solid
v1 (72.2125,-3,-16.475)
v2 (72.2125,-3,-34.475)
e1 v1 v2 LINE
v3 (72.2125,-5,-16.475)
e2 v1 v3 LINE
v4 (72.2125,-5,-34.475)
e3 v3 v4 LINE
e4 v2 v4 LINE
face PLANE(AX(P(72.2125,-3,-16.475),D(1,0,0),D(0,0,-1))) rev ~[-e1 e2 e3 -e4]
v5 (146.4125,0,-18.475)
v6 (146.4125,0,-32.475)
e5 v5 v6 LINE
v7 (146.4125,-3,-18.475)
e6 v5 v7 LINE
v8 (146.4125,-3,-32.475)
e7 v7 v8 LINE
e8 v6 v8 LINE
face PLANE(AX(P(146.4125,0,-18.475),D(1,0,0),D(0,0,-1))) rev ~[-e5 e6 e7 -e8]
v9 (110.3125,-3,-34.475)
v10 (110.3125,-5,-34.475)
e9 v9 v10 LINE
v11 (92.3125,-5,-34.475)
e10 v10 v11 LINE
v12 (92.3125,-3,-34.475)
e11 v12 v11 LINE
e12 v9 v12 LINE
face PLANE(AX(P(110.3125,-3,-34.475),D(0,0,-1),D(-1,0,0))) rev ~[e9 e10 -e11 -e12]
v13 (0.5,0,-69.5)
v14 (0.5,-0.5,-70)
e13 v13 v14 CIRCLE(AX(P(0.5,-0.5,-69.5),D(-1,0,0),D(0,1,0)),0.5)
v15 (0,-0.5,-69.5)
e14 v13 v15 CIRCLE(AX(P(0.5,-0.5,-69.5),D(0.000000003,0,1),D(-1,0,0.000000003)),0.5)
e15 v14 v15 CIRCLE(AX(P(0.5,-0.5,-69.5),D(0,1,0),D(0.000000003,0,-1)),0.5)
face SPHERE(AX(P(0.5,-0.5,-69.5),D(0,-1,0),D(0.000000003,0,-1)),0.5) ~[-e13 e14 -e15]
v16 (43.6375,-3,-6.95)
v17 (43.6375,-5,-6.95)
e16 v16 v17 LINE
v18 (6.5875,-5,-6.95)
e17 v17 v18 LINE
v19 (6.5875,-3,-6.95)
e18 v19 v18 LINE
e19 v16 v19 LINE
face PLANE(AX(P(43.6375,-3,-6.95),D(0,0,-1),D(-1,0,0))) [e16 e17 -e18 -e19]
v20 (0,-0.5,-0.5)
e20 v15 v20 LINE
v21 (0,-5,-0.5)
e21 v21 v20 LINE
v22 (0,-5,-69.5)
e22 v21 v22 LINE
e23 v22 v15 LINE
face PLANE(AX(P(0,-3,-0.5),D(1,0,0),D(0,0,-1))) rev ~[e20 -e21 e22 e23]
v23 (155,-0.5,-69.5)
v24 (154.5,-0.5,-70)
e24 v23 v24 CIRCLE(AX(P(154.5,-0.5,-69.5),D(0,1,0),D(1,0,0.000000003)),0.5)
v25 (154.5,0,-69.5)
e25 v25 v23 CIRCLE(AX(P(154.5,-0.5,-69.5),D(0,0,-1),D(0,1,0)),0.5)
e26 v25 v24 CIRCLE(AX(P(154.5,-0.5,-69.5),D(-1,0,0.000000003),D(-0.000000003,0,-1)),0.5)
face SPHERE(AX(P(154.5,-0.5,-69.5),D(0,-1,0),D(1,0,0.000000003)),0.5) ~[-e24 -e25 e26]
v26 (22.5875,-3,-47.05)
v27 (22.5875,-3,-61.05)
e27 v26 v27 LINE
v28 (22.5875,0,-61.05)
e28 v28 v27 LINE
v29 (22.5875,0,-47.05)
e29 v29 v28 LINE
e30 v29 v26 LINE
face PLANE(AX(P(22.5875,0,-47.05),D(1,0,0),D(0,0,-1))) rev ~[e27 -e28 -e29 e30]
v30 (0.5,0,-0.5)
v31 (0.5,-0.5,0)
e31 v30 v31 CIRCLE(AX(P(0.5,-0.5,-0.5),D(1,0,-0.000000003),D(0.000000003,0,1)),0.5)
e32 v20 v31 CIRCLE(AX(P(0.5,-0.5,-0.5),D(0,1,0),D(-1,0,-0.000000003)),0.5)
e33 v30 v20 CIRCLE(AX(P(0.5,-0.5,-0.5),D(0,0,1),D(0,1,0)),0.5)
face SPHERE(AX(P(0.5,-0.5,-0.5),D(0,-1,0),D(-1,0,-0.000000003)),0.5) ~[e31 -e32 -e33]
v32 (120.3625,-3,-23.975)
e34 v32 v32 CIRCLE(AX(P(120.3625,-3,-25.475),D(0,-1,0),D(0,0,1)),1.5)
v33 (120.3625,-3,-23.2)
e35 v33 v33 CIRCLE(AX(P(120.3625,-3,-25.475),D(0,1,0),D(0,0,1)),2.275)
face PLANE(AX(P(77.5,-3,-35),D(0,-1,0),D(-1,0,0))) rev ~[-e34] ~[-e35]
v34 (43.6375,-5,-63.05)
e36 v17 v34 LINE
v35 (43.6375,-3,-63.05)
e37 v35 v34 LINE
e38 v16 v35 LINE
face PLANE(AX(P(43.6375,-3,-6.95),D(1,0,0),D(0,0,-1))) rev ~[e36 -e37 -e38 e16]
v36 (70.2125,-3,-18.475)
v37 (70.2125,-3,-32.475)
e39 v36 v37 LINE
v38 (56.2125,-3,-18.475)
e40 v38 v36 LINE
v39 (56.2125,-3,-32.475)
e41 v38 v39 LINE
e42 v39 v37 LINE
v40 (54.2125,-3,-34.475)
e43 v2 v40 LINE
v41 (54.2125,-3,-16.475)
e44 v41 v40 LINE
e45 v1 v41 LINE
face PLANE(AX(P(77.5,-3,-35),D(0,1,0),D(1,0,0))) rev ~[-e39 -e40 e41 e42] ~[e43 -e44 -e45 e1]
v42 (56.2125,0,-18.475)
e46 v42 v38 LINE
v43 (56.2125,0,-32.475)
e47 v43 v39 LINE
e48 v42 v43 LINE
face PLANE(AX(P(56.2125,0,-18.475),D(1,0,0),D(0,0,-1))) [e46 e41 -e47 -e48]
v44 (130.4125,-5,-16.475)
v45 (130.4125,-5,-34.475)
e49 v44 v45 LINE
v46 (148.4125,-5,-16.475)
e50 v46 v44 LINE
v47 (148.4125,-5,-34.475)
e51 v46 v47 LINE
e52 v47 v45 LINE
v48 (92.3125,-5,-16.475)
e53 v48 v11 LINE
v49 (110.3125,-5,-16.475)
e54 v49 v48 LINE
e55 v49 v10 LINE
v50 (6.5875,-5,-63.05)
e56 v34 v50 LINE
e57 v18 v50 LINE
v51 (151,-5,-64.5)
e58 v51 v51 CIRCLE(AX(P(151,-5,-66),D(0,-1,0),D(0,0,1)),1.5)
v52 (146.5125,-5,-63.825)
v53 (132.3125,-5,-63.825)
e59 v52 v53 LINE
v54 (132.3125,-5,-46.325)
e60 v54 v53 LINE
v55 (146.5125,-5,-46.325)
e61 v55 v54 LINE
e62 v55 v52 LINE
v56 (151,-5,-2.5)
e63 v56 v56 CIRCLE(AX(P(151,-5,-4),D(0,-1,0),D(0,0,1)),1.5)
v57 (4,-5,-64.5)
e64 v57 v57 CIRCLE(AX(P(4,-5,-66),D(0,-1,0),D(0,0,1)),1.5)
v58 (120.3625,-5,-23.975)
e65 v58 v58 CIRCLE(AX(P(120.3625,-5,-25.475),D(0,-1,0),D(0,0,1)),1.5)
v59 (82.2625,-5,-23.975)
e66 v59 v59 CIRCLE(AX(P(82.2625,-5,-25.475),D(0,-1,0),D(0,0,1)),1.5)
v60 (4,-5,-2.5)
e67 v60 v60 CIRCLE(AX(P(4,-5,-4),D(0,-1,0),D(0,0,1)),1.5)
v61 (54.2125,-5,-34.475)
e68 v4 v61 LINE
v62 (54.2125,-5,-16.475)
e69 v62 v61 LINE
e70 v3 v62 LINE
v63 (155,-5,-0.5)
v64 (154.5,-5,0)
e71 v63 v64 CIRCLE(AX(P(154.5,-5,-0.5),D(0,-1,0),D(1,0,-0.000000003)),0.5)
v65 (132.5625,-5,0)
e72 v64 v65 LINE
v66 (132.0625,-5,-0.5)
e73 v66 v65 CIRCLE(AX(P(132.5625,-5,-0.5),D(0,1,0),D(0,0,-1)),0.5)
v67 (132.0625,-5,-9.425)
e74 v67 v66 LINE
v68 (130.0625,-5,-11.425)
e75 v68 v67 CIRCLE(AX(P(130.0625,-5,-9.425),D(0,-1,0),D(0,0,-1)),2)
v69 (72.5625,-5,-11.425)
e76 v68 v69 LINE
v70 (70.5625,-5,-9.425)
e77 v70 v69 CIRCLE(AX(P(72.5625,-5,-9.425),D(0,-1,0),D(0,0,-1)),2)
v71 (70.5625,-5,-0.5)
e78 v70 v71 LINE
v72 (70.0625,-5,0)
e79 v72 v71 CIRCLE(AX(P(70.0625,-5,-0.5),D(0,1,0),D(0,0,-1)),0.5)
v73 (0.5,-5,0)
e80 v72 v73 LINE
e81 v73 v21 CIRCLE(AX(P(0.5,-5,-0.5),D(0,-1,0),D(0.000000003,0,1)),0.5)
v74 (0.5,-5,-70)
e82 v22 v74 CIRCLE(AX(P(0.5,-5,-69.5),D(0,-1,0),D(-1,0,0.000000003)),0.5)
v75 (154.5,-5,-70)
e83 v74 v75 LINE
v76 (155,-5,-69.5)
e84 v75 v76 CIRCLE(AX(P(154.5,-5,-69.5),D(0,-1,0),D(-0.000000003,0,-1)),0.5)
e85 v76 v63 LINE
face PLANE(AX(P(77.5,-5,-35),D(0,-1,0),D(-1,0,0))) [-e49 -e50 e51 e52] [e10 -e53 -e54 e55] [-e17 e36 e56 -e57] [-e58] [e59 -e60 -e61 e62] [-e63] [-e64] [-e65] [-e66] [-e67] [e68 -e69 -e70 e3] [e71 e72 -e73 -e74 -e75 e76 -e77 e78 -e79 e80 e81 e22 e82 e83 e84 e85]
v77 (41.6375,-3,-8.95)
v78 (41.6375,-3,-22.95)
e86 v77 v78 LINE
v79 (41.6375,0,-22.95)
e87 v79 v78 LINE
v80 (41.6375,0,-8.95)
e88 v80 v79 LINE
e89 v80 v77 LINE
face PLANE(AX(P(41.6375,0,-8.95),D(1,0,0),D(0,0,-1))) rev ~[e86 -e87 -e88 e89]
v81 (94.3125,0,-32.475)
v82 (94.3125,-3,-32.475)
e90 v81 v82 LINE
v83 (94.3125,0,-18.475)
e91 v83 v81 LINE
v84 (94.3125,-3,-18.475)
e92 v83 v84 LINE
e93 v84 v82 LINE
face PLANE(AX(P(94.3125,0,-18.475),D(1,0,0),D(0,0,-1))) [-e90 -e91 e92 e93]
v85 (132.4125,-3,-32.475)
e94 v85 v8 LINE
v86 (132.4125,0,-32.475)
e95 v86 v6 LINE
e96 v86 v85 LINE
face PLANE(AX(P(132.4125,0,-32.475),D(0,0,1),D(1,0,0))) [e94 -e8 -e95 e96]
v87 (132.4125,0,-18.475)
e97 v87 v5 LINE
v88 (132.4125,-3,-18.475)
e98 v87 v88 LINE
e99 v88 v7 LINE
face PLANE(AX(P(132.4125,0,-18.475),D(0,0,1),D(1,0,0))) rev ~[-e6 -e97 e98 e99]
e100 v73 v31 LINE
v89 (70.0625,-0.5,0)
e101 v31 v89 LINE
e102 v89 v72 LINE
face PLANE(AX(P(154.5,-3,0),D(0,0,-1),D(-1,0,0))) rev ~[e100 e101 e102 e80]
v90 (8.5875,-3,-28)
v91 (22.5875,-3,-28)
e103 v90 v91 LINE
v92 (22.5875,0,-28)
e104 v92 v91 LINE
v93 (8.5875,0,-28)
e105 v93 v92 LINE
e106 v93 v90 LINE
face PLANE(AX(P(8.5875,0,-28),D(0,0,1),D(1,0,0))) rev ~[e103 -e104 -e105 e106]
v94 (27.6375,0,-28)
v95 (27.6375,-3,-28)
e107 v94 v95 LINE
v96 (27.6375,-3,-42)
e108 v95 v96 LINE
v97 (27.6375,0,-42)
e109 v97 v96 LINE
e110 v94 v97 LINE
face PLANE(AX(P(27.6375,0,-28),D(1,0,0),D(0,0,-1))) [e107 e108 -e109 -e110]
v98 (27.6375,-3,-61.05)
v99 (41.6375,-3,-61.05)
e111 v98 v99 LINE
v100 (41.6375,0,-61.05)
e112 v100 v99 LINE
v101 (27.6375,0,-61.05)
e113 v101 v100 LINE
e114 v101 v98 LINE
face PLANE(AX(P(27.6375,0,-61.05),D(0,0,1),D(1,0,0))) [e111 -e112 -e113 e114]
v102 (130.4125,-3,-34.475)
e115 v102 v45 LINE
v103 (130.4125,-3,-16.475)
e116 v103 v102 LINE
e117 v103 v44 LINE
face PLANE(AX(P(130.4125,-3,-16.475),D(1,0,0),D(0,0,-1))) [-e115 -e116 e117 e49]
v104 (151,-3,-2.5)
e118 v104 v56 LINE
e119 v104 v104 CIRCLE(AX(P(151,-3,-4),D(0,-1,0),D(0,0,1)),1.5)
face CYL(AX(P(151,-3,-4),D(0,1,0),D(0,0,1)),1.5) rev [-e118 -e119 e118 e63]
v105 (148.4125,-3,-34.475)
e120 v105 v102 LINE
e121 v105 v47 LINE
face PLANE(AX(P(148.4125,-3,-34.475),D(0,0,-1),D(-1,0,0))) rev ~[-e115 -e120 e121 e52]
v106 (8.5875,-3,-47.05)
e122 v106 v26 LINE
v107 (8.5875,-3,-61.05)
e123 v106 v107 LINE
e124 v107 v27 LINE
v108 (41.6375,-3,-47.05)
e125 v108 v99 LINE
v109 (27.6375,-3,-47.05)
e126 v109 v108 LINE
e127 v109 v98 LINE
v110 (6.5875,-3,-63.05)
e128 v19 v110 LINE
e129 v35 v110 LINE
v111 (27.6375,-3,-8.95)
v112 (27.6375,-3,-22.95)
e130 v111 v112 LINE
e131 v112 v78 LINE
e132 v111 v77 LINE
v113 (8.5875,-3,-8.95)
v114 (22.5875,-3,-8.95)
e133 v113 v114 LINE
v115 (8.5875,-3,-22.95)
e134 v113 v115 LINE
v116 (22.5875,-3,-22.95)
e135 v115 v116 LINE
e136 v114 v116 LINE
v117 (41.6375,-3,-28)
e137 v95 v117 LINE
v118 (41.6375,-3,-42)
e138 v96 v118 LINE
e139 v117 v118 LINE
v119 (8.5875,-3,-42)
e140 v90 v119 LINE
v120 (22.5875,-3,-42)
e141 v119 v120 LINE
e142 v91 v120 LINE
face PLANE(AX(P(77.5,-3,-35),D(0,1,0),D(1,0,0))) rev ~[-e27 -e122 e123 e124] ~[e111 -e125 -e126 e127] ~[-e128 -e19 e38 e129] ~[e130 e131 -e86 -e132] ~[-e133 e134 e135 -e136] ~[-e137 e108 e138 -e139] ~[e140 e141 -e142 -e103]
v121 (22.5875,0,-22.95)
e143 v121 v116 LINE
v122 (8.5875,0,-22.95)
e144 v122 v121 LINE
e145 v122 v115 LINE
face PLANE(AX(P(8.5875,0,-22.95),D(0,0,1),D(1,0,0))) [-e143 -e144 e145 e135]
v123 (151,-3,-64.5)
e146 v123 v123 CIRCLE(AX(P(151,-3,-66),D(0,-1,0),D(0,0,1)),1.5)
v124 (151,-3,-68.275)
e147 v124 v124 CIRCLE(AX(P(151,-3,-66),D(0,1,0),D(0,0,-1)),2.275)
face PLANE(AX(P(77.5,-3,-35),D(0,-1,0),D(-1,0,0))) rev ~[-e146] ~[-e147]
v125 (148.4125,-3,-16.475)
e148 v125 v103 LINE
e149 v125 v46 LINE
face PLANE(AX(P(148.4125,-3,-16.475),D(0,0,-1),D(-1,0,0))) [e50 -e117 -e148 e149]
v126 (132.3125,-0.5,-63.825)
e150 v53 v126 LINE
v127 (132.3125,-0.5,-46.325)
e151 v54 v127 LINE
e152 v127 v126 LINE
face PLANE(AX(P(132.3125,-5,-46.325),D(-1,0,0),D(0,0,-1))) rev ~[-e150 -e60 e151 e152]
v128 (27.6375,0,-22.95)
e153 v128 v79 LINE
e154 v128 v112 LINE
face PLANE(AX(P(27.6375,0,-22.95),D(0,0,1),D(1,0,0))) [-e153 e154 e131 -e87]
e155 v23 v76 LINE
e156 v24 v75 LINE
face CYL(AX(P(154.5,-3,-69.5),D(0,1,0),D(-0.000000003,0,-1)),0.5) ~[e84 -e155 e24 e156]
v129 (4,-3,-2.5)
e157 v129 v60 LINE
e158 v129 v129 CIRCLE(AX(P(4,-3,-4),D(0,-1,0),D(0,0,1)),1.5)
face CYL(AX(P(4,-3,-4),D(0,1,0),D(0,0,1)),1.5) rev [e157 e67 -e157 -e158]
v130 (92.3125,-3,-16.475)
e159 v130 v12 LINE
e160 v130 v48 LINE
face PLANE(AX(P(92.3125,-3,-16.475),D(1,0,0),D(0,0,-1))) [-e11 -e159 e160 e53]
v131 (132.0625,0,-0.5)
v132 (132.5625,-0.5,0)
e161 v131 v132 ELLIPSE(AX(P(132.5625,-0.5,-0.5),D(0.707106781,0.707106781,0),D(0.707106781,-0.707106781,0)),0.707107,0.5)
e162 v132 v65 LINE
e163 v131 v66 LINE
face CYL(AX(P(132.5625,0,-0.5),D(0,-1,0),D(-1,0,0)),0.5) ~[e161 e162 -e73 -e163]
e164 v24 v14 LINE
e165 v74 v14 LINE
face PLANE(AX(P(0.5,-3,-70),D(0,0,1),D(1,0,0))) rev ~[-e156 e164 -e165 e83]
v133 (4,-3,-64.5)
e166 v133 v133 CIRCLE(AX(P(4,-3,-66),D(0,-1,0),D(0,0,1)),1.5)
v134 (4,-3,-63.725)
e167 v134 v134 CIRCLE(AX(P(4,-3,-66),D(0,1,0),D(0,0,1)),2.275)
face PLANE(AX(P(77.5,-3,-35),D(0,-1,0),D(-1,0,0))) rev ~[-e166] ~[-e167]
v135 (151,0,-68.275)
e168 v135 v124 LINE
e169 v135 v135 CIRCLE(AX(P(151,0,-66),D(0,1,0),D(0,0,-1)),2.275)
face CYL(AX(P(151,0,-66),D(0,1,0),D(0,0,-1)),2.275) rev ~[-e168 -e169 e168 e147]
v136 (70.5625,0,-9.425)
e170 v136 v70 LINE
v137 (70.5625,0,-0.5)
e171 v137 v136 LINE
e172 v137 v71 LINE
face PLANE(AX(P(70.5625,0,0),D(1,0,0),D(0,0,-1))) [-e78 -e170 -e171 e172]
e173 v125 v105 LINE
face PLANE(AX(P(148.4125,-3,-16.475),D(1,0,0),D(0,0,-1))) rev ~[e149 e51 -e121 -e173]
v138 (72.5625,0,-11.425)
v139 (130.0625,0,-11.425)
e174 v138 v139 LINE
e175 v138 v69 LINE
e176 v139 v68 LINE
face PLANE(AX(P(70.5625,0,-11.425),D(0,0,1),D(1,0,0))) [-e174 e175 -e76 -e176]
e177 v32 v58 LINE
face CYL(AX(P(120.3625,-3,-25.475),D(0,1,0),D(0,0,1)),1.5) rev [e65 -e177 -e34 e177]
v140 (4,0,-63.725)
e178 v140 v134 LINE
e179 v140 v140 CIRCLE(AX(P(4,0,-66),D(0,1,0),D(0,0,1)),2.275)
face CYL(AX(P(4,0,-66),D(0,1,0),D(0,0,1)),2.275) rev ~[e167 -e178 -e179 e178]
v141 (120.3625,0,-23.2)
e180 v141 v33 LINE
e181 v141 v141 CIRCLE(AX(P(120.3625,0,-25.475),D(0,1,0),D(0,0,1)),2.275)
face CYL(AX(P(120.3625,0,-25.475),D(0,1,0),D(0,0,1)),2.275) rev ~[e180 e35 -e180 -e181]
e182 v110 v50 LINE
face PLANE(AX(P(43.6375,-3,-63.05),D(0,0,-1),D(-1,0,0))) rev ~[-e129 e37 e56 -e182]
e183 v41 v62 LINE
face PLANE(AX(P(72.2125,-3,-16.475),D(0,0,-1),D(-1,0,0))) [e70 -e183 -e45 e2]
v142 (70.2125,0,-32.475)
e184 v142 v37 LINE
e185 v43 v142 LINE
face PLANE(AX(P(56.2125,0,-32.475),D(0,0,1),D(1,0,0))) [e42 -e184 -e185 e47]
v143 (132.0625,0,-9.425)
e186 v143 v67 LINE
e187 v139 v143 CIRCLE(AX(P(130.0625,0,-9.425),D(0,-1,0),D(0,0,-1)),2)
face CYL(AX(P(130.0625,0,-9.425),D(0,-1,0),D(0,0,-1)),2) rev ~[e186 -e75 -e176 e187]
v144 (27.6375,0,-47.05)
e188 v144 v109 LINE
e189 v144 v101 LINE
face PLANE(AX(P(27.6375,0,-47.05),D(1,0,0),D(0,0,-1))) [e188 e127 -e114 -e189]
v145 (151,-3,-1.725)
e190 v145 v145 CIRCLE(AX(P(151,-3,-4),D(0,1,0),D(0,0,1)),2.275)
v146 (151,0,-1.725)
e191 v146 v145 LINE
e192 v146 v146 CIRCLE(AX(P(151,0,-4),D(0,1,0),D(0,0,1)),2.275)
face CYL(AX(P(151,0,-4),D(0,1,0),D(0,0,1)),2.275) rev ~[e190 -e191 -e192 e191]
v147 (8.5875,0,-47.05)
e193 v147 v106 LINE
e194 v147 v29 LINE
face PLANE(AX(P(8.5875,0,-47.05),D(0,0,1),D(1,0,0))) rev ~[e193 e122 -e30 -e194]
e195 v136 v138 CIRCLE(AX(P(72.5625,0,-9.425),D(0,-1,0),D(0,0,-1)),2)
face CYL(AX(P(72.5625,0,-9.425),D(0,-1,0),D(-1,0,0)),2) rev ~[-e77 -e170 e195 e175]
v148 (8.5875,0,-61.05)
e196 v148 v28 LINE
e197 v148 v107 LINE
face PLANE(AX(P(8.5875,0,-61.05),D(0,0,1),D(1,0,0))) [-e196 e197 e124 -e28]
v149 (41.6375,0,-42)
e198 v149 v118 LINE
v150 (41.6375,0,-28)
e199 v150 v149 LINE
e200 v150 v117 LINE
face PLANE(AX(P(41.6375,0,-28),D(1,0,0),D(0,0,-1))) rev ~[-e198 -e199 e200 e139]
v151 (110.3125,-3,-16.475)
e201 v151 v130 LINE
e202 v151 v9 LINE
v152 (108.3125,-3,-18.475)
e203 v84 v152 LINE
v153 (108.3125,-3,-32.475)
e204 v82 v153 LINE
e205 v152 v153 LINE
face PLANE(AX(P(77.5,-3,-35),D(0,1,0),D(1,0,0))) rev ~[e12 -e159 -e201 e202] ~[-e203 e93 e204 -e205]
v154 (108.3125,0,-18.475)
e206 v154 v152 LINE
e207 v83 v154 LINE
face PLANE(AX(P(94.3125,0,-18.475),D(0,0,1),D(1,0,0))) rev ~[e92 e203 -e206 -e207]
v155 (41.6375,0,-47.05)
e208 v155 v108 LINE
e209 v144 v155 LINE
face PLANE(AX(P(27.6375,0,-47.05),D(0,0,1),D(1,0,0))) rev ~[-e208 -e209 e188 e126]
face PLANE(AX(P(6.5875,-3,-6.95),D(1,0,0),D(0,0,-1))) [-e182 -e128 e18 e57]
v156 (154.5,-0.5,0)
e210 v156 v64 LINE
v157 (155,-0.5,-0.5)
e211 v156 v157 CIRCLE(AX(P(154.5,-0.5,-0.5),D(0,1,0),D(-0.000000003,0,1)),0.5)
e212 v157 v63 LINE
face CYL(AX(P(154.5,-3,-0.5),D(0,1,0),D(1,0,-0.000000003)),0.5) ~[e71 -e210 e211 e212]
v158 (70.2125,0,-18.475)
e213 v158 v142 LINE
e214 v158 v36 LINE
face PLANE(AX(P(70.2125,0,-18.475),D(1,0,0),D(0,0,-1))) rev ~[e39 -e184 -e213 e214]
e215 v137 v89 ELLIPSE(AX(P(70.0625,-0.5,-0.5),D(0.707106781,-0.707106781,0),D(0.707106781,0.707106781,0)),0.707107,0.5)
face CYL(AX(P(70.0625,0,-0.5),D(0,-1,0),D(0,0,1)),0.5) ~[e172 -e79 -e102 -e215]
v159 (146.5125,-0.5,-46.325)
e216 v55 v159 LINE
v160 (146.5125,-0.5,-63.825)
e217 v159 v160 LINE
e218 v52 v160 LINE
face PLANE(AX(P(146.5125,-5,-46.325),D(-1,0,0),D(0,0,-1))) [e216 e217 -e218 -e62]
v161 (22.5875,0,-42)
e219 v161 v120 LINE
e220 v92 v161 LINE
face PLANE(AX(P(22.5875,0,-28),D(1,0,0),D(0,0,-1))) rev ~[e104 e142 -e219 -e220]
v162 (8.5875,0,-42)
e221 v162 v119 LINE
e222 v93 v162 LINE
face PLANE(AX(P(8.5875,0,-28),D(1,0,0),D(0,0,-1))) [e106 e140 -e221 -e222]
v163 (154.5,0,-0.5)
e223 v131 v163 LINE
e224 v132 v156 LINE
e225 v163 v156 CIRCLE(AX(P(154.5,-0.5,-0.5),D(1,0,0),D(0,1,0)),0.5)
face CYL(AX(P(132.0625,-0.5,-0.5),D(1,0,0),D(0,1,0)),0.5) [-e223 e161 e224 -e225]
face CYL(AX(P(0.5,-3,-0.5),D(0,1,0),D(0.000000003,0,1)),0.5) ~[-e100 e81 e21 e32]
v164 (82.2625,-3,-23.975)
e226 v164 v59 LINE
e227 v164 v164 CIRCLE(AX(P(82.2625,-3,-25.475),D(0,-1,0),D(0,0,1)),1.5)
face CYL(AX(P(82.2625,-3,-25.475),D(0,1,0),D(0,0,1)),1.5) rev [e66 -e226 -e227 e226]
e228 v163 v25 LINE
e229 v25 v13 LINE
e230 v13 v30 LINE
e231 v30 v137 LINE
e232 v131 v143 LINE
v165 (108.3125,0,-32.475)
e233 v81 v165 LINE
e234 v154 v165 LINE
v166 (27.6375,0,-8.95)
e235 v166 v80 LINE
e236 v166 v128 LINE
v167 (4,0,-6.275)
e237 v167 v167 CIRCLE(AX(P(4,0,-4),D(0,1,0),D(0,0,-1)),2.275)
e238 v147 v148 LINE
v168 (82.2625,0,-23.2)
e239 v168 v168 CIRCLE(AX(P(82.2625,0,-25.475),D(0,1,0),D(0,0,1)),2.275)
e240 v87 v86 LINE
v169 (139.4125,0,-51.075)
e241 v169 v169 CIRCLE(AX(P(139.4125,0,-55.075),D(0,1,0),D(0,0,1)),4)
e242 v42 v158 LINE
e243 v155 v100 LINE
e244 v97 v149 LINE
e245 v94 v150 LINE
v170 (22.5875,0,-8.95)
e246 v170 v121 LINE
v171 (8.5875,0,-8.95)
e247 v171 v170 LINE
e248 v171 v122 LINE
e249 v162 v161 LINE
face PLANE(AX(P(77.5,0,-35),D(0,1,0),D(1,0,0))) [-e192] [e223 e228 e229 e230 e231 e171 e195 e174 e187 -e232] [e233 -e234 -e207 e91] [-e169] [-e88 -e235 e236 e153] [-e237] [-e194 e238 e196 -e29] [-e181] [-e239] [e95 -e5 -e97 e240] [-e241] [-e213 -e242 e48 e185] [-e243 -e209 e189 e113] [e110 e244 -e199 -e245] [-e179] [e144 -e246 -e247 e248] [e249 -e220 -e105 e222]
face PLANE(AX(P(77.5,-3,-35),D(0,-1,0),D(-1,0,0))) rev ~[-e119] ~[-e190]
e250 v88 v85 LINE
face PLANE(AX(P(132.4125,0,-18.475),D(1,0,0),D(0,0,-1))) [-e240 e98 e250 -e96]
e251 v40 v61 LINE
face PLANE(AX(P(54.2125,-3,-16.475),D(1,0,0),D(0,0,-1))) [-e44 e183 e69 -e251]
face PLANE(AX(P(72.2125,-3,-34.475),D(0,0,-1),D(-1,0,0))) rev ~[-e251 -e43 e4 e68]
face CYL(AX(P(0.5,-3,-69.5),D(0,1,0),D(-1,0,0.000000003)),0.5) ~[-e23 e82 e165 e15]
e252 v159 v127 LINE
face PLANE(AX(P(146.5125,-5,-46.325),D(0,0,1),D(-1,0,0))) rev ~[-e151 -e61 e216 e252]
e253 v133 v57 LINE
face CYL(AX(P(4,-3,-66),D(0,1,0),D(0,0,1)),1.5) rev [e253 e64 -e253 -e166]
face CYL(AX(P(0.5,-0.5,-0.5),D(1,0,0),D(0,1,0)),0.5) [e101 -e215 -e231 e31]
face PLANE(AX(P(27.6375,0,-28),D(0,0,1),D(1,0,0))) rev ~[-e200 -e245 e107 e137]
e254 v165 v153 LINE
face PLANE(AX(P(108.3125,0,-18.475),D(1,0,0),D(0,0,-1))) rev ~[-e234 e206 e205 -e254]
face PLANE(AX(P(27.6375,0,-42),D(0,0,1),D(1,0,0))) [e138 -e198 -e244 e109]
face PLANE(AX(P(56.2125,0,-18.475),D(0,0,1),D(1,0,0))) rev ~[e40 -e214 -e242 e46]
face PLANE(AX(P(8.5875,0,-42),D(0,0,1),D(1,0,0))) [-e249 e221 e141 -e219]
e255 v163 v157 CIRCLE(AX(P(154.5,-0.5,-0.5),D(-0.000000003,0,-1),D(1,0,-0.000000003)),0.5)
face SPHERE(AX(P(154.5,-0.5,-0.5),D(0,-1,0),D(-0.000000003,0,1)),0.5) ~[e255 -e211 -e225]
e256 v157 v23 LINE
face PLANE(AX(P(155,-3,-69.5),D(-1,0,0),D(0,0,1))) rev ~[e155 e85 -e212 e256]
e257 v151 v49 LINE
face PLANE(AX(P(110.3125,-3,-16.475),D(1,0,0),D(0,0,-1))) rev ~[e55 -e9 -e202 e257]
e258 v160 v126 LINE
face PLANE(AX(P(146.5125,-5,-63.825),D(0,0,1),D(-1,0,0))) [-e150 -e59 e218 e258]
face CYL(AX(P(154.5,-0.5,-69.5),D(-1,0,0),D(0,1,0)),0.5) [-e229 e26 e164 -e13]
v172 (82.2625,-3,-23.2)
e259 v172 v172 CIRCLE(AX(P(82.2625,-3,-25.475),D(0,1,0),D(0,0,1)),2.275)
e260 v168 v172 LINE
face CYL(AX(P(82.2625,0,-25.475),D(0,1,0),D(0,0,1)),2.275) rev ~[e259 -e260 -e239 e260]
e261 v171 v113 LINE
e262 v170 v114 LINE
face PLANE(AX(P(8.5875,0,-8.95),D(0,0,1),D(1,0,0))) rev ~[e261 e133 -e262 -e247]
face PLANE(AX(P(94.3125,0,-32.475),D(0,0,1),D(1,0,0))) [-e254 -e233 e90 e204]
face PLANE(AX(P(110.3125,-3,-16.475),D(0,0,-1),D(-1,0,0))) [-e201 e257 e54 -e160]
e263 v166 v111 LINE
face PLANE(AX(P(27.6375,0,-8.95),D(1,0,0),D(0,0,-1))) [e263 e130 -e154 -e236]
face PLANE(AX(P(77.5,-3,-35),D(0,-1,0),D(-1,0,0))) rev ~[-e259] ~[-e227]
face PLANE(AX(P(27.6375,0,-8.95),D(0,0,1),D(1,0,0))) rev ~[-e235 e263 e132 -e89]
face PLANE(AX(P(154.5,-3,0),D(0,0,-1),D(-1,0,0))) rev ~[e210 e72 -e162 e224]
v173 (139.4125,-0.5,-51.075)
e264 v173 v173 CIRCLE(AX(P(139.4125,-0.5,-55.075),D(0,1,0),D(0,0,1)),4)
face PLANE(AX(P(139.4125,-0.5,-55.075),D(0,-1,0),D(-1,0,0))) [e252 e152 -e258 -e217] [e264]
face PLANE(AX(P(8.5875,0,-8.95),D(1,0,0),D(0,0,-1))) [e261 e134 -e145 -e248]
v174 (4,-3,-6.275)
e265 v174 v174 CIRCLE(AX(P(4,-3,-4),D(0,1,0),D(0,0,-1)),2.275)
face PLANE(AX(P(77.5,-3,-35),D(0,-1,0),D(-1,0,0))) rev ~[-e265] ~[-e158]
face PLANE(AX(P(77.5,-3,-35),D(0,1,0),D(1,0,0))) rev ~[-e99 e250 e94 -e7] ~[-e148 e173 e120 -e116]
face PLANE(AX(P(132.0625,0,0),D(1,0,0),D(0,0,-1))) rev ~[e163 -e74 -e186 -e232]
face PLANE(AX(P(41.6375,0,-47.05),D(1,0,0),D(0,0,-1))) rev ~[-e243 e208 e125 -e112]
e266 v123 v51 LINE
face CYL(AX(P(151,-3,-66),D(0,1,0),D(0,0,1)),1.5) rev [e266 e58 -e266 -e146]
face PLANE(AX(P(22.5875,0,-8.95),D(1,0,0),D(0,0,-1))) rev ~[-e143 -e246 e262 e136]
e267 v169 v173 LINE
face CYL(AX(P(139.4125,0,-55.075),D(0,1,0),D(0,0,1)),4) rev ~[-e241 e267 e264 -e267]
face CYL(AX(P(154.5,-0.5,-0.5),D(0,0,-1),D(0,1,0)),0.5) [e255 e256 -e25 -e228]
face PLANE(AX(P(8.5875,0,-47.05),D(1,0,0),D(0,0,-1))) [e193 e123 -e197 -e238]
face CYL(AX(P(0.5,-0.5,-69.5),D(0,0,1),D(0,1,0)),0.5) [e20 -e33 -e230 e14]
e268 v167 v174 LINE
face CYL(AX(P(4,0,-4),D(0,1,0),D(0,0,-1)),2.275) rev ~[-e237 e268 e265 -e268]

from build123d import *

# Parameters (mm, degrees)
SKETCH1_R           = 2.275
SKETCH1_R_2         = 4
SKETCH1_W           = 14
SKETCH1_H           = 14
BOSS_EXTRUDE1_DEPTH = 3
SKETCH2_R           = 1.5
SKETCH2_R_2         = 4
SKETCH2_W           = 37.05
SKETCH2_H           = 56.1
SKETCH2_W_2         = 18
SKETCH2_H_2         = 18
BOSS_EXTRUDE2_DEPTH = 2
SKETCH3_W           = 14.2
SKETCH3_H           = 17.5
CUT_EXTRUDE1_DEPTH  = 4.5
SKETCH4_W           = 61.5
SKETCH4_H           = 11.425
CUT_EXTRUDE2_DEPTH  = 171.146995272
FILLET1_R           = 0.5
FILLET2_R           = 2


with BuildPart() as part:
    # Sketch1 → Boss-Extrude1 (new body)
    with BuildSketch(Plane(origin=(0, 0, 0), x_dir=(1, 0, 0), z_dir=(0, 1, 0))):
        with BuildLine():
            Line((0.5, 0), (154.5, 0))
            ThreePointArc((154.5, 0), (154.853553391, 0.146446609), (155, 0.5))
            Line((155, 0.5), (155, 69.5))
            ThreePointArc((155, 69.5), (154.853553391, 69.853553391), (154.5, 70))
            Line((154.5, 70), (0.5, 70))
            ThreePointArc((0.5, 70), (0.146446609, 69.853553391), (0, 69.5))
            Line((0, 69.5), (0, 0.5))
            ThreePointArc((0, 0.5), (0.146446609, 0.146446609), (0.5, 0))
        make_face()
        with Locations(Location((4, 66, 0), (0, 0, 270))):
            Circle(SKETCH1_R, mode=Mode.SUBTRACT)
        with Locations(Location((4, 4, 0), (0, 0, 90))):
            Circle(SKETCH1_R, mode=Mode.SUBTRACT)
        with Locations(Location((151, 4, 0), (0, 0, 270))):
            Circle(SKETCH1_R, mode=Mode.SUBTRACT)
        with Locations(Location((151, 66, 0), (0, 0, 90))):
            Circle(SKETCH1_R, mode=Mode.SUBTRACT)
        with Locations(Location((82.2625, 25.475, 0), (0, 0, 270))):
            Circle(SKETCH1_R, mode=Mode.SUBTRACT)
        with Locations(Location((120.3625, 25.475, 0), (0, 0, 270))):
            Circle(SKETCH1_R, mode=Mode.SUBTRACT)
        with Locations(Location((139.4125, 55.075, 0), (0, 0, 270))):
            Circle(SKETCH1_R_2, mode=Mode.SUBTRACT)
        with Locations((15.5875, 54.05)):
            Rectangle(SKETCH1_W, SKETCH1_H, mode=Mode.SUBTRACT)
        with Locations((34.6375, 54.05)):
            Rectangle(SKETCH1_W, SKETCH1_H, mode=Mode.SUBTRACT)
        with Locations((34.6375, 35)):
            Rectangle(SKETCH1_W, SKETCH1_H, mode=Mode.SUBTRACT)
        with Locations((34.6375, 15.95)):
            Rectangle(SKETCH1_W, SKETCH1_H, mode=Mode.SUBTRACT)
        with Locations((15.5875, 35)):
            Rectangle(SKETCH1_W, SKETCH1_H, mode=Mode.SUBTRACT)
        with Locations((15.5875, 15.95)):
            Rectangle(SKETCH1_W, SKETCH1_H, mode=Mode.SUBTRACT)
        with Locations((101.3125, 25.475)):
            Rectangle(SKETCH1_W, SKETCH1_H, mode=Mode.SUBTRACT)
        with Locations((63.2125, 25.475)):
            Rectangle(SKETCH1_W, SKETCH1_H, mode=Mode.SUBTRACT)
        with Locations((139.4125, 25.475)):
            Rectangle(SKETCH1_W, SKETCH1_H, mode=Mode.SUBTRACT)
    extrude(amount=-BOSS_EXTRUDE1_DEPTH)

    # Sketch2 → Boss-Extrude2 (add)
    with BuildSketch(Plane(origin=(0, -3, 0), x_dir=(-1, 0, 0), z_dir=(0, -1, 0))):
        with BuildLine():
            Line((-0.5, 70), (-154.5, 70))
            ThreePointArc((-154.5, 70), (-154.853553391, 69.853553391), (-155, 69.5))
            Line((-155, 69.5), (-155, 0.5))
            ThreePointArc((-155, 0.5), (-154.853553391, 0.146446609), (-154.5, 0))
            Line((-154.5, 0), (-0.5, 0))
            ThreePointArc((-0.5, 0), (-0.146446609, 0.146446609), (0, 0.5))
            Line((0, 0.5), (0, 69.5))
            ThreePointArc((0, 69.5), (-0.146446609, 69.853553391), (-0.5, 70))
        make_face()
        with Locations(Location((-4, 66, 0), (0, 0, 270))):
            Circle(SKETCH2_R, mode=Mode.SUBTRACT)
        with Locations(Location((-4, 4, 0), (0, 0, 270))):
            Circle(SKETCH2_R, mode=Mode.SUBTRACT)
        with Locations(Location((-151, 4, 0), (0, 0, 270))):
            Circle(SKETCH2_R, mode=Mode.SUBTRACT)
        with Locations(Location((-151, 66, 0), (0, 0, 270))):
            Circle(SKETCH2_R, mode=Mode.SUBTRACT)
        with Locations(Location((-82.2625, 25.475, 0), (0, 0, 270))):
            Circle(SKETCH2_R, mode=Mode.SUBTRACT)
        with Locations(Location((-120.3625, 25.475, 0), (0, 0, 270))):
            Circle(SKETCH2_R, mode=Mode.SUBTRACT)
        with Locations(Location((-139.4125, 55.075, 0), (0, 0, 270))):
            Circle(SKETCH2_R_2, mode=Mode.SUBTRACT)
        with Locations((-25.1125, 35)):
            Rectangle(SKETCH2_W, SKETCH2_H, mode=Mode.SUBTRACT)
        with Locations((-63.2125, 25.475)):
            Rectangle(SKETCH2_W_2, SKETCH2_H_2, mode=Mode.SUBTRACT)
        with Locations((-101.3125, 25.475)):
            Rectangle(SKETCH2_W_2, SKETCH2_H_2, mode=Mode.SUBTRACT)
        with Locations((-139.4125, 25.475)):
            Rectangle(SKETCH2_W_2, SKETCH2_H_2, mode=Mode.SUBTRACT)
    extrude(amount=BOSS_EXTRUDE2_DEPTH)

    # Sketch3 → Cut-Extrude1 (cut)
    with BuildSketch(Plane(origin=(0, -5, 0), x_dir=(-1, 0, 0), z_dir=(0, -1, 0))):
        with Locations((-139.4125, 55.075)):
            Rectangle(SKETCH3_W, SKETCH3_H)
    extrude(amount=-CUT_EXTRUDE1_DEPTH, mode=Mode.SUBTRACT)

    # Sketch4 → Cut-Extrude2 (cut, through all)
    with BuildSketch(Plane(origin=(0, 0, 0), x_dir=(1, 0, 0), z_dir=(0, 1, 0))):
        with Locations((101.3125, 5.7125)):
            Rectangle(SKETCH4_W, SKETCH4_H)
    extrude(amount=-CUT_EXTRUDE2_DEPTH, mode=Mode.SUBTRACT)

    # Fillet1
    fillet1_edges = [part.edges().sort_by_distance(p)[0] for p in [
        (0, 0, -35),
        (0.146446609, 0, -69.853553391),
        (77.5, 0, -70),
        (154.853553391, 0, -69.853553391),
        (143.28125, 0, 0),
        (132.0625, -2.5, 0),
        (70.5625, -2.5, 0),
        (155, 0, -35),
        (154.853553391, 0, -0.146446609),
        (35.53125, 0, 0),
        (0.146446609, 0, -0.146446609),
    ]]
    fillet(fillet1_edges, radius=FILLET1_R)

    # Fillet2
    fillet2_edges = [part.edges().sort_by_distance(p)[0] for p in [
        (70.5625, -2.5, -11.425),
        (132.0625, -2.5, -11.425),
    ]]
    fillet(fillet2_edges, radius=FILLET2_R)


solid = part.part
